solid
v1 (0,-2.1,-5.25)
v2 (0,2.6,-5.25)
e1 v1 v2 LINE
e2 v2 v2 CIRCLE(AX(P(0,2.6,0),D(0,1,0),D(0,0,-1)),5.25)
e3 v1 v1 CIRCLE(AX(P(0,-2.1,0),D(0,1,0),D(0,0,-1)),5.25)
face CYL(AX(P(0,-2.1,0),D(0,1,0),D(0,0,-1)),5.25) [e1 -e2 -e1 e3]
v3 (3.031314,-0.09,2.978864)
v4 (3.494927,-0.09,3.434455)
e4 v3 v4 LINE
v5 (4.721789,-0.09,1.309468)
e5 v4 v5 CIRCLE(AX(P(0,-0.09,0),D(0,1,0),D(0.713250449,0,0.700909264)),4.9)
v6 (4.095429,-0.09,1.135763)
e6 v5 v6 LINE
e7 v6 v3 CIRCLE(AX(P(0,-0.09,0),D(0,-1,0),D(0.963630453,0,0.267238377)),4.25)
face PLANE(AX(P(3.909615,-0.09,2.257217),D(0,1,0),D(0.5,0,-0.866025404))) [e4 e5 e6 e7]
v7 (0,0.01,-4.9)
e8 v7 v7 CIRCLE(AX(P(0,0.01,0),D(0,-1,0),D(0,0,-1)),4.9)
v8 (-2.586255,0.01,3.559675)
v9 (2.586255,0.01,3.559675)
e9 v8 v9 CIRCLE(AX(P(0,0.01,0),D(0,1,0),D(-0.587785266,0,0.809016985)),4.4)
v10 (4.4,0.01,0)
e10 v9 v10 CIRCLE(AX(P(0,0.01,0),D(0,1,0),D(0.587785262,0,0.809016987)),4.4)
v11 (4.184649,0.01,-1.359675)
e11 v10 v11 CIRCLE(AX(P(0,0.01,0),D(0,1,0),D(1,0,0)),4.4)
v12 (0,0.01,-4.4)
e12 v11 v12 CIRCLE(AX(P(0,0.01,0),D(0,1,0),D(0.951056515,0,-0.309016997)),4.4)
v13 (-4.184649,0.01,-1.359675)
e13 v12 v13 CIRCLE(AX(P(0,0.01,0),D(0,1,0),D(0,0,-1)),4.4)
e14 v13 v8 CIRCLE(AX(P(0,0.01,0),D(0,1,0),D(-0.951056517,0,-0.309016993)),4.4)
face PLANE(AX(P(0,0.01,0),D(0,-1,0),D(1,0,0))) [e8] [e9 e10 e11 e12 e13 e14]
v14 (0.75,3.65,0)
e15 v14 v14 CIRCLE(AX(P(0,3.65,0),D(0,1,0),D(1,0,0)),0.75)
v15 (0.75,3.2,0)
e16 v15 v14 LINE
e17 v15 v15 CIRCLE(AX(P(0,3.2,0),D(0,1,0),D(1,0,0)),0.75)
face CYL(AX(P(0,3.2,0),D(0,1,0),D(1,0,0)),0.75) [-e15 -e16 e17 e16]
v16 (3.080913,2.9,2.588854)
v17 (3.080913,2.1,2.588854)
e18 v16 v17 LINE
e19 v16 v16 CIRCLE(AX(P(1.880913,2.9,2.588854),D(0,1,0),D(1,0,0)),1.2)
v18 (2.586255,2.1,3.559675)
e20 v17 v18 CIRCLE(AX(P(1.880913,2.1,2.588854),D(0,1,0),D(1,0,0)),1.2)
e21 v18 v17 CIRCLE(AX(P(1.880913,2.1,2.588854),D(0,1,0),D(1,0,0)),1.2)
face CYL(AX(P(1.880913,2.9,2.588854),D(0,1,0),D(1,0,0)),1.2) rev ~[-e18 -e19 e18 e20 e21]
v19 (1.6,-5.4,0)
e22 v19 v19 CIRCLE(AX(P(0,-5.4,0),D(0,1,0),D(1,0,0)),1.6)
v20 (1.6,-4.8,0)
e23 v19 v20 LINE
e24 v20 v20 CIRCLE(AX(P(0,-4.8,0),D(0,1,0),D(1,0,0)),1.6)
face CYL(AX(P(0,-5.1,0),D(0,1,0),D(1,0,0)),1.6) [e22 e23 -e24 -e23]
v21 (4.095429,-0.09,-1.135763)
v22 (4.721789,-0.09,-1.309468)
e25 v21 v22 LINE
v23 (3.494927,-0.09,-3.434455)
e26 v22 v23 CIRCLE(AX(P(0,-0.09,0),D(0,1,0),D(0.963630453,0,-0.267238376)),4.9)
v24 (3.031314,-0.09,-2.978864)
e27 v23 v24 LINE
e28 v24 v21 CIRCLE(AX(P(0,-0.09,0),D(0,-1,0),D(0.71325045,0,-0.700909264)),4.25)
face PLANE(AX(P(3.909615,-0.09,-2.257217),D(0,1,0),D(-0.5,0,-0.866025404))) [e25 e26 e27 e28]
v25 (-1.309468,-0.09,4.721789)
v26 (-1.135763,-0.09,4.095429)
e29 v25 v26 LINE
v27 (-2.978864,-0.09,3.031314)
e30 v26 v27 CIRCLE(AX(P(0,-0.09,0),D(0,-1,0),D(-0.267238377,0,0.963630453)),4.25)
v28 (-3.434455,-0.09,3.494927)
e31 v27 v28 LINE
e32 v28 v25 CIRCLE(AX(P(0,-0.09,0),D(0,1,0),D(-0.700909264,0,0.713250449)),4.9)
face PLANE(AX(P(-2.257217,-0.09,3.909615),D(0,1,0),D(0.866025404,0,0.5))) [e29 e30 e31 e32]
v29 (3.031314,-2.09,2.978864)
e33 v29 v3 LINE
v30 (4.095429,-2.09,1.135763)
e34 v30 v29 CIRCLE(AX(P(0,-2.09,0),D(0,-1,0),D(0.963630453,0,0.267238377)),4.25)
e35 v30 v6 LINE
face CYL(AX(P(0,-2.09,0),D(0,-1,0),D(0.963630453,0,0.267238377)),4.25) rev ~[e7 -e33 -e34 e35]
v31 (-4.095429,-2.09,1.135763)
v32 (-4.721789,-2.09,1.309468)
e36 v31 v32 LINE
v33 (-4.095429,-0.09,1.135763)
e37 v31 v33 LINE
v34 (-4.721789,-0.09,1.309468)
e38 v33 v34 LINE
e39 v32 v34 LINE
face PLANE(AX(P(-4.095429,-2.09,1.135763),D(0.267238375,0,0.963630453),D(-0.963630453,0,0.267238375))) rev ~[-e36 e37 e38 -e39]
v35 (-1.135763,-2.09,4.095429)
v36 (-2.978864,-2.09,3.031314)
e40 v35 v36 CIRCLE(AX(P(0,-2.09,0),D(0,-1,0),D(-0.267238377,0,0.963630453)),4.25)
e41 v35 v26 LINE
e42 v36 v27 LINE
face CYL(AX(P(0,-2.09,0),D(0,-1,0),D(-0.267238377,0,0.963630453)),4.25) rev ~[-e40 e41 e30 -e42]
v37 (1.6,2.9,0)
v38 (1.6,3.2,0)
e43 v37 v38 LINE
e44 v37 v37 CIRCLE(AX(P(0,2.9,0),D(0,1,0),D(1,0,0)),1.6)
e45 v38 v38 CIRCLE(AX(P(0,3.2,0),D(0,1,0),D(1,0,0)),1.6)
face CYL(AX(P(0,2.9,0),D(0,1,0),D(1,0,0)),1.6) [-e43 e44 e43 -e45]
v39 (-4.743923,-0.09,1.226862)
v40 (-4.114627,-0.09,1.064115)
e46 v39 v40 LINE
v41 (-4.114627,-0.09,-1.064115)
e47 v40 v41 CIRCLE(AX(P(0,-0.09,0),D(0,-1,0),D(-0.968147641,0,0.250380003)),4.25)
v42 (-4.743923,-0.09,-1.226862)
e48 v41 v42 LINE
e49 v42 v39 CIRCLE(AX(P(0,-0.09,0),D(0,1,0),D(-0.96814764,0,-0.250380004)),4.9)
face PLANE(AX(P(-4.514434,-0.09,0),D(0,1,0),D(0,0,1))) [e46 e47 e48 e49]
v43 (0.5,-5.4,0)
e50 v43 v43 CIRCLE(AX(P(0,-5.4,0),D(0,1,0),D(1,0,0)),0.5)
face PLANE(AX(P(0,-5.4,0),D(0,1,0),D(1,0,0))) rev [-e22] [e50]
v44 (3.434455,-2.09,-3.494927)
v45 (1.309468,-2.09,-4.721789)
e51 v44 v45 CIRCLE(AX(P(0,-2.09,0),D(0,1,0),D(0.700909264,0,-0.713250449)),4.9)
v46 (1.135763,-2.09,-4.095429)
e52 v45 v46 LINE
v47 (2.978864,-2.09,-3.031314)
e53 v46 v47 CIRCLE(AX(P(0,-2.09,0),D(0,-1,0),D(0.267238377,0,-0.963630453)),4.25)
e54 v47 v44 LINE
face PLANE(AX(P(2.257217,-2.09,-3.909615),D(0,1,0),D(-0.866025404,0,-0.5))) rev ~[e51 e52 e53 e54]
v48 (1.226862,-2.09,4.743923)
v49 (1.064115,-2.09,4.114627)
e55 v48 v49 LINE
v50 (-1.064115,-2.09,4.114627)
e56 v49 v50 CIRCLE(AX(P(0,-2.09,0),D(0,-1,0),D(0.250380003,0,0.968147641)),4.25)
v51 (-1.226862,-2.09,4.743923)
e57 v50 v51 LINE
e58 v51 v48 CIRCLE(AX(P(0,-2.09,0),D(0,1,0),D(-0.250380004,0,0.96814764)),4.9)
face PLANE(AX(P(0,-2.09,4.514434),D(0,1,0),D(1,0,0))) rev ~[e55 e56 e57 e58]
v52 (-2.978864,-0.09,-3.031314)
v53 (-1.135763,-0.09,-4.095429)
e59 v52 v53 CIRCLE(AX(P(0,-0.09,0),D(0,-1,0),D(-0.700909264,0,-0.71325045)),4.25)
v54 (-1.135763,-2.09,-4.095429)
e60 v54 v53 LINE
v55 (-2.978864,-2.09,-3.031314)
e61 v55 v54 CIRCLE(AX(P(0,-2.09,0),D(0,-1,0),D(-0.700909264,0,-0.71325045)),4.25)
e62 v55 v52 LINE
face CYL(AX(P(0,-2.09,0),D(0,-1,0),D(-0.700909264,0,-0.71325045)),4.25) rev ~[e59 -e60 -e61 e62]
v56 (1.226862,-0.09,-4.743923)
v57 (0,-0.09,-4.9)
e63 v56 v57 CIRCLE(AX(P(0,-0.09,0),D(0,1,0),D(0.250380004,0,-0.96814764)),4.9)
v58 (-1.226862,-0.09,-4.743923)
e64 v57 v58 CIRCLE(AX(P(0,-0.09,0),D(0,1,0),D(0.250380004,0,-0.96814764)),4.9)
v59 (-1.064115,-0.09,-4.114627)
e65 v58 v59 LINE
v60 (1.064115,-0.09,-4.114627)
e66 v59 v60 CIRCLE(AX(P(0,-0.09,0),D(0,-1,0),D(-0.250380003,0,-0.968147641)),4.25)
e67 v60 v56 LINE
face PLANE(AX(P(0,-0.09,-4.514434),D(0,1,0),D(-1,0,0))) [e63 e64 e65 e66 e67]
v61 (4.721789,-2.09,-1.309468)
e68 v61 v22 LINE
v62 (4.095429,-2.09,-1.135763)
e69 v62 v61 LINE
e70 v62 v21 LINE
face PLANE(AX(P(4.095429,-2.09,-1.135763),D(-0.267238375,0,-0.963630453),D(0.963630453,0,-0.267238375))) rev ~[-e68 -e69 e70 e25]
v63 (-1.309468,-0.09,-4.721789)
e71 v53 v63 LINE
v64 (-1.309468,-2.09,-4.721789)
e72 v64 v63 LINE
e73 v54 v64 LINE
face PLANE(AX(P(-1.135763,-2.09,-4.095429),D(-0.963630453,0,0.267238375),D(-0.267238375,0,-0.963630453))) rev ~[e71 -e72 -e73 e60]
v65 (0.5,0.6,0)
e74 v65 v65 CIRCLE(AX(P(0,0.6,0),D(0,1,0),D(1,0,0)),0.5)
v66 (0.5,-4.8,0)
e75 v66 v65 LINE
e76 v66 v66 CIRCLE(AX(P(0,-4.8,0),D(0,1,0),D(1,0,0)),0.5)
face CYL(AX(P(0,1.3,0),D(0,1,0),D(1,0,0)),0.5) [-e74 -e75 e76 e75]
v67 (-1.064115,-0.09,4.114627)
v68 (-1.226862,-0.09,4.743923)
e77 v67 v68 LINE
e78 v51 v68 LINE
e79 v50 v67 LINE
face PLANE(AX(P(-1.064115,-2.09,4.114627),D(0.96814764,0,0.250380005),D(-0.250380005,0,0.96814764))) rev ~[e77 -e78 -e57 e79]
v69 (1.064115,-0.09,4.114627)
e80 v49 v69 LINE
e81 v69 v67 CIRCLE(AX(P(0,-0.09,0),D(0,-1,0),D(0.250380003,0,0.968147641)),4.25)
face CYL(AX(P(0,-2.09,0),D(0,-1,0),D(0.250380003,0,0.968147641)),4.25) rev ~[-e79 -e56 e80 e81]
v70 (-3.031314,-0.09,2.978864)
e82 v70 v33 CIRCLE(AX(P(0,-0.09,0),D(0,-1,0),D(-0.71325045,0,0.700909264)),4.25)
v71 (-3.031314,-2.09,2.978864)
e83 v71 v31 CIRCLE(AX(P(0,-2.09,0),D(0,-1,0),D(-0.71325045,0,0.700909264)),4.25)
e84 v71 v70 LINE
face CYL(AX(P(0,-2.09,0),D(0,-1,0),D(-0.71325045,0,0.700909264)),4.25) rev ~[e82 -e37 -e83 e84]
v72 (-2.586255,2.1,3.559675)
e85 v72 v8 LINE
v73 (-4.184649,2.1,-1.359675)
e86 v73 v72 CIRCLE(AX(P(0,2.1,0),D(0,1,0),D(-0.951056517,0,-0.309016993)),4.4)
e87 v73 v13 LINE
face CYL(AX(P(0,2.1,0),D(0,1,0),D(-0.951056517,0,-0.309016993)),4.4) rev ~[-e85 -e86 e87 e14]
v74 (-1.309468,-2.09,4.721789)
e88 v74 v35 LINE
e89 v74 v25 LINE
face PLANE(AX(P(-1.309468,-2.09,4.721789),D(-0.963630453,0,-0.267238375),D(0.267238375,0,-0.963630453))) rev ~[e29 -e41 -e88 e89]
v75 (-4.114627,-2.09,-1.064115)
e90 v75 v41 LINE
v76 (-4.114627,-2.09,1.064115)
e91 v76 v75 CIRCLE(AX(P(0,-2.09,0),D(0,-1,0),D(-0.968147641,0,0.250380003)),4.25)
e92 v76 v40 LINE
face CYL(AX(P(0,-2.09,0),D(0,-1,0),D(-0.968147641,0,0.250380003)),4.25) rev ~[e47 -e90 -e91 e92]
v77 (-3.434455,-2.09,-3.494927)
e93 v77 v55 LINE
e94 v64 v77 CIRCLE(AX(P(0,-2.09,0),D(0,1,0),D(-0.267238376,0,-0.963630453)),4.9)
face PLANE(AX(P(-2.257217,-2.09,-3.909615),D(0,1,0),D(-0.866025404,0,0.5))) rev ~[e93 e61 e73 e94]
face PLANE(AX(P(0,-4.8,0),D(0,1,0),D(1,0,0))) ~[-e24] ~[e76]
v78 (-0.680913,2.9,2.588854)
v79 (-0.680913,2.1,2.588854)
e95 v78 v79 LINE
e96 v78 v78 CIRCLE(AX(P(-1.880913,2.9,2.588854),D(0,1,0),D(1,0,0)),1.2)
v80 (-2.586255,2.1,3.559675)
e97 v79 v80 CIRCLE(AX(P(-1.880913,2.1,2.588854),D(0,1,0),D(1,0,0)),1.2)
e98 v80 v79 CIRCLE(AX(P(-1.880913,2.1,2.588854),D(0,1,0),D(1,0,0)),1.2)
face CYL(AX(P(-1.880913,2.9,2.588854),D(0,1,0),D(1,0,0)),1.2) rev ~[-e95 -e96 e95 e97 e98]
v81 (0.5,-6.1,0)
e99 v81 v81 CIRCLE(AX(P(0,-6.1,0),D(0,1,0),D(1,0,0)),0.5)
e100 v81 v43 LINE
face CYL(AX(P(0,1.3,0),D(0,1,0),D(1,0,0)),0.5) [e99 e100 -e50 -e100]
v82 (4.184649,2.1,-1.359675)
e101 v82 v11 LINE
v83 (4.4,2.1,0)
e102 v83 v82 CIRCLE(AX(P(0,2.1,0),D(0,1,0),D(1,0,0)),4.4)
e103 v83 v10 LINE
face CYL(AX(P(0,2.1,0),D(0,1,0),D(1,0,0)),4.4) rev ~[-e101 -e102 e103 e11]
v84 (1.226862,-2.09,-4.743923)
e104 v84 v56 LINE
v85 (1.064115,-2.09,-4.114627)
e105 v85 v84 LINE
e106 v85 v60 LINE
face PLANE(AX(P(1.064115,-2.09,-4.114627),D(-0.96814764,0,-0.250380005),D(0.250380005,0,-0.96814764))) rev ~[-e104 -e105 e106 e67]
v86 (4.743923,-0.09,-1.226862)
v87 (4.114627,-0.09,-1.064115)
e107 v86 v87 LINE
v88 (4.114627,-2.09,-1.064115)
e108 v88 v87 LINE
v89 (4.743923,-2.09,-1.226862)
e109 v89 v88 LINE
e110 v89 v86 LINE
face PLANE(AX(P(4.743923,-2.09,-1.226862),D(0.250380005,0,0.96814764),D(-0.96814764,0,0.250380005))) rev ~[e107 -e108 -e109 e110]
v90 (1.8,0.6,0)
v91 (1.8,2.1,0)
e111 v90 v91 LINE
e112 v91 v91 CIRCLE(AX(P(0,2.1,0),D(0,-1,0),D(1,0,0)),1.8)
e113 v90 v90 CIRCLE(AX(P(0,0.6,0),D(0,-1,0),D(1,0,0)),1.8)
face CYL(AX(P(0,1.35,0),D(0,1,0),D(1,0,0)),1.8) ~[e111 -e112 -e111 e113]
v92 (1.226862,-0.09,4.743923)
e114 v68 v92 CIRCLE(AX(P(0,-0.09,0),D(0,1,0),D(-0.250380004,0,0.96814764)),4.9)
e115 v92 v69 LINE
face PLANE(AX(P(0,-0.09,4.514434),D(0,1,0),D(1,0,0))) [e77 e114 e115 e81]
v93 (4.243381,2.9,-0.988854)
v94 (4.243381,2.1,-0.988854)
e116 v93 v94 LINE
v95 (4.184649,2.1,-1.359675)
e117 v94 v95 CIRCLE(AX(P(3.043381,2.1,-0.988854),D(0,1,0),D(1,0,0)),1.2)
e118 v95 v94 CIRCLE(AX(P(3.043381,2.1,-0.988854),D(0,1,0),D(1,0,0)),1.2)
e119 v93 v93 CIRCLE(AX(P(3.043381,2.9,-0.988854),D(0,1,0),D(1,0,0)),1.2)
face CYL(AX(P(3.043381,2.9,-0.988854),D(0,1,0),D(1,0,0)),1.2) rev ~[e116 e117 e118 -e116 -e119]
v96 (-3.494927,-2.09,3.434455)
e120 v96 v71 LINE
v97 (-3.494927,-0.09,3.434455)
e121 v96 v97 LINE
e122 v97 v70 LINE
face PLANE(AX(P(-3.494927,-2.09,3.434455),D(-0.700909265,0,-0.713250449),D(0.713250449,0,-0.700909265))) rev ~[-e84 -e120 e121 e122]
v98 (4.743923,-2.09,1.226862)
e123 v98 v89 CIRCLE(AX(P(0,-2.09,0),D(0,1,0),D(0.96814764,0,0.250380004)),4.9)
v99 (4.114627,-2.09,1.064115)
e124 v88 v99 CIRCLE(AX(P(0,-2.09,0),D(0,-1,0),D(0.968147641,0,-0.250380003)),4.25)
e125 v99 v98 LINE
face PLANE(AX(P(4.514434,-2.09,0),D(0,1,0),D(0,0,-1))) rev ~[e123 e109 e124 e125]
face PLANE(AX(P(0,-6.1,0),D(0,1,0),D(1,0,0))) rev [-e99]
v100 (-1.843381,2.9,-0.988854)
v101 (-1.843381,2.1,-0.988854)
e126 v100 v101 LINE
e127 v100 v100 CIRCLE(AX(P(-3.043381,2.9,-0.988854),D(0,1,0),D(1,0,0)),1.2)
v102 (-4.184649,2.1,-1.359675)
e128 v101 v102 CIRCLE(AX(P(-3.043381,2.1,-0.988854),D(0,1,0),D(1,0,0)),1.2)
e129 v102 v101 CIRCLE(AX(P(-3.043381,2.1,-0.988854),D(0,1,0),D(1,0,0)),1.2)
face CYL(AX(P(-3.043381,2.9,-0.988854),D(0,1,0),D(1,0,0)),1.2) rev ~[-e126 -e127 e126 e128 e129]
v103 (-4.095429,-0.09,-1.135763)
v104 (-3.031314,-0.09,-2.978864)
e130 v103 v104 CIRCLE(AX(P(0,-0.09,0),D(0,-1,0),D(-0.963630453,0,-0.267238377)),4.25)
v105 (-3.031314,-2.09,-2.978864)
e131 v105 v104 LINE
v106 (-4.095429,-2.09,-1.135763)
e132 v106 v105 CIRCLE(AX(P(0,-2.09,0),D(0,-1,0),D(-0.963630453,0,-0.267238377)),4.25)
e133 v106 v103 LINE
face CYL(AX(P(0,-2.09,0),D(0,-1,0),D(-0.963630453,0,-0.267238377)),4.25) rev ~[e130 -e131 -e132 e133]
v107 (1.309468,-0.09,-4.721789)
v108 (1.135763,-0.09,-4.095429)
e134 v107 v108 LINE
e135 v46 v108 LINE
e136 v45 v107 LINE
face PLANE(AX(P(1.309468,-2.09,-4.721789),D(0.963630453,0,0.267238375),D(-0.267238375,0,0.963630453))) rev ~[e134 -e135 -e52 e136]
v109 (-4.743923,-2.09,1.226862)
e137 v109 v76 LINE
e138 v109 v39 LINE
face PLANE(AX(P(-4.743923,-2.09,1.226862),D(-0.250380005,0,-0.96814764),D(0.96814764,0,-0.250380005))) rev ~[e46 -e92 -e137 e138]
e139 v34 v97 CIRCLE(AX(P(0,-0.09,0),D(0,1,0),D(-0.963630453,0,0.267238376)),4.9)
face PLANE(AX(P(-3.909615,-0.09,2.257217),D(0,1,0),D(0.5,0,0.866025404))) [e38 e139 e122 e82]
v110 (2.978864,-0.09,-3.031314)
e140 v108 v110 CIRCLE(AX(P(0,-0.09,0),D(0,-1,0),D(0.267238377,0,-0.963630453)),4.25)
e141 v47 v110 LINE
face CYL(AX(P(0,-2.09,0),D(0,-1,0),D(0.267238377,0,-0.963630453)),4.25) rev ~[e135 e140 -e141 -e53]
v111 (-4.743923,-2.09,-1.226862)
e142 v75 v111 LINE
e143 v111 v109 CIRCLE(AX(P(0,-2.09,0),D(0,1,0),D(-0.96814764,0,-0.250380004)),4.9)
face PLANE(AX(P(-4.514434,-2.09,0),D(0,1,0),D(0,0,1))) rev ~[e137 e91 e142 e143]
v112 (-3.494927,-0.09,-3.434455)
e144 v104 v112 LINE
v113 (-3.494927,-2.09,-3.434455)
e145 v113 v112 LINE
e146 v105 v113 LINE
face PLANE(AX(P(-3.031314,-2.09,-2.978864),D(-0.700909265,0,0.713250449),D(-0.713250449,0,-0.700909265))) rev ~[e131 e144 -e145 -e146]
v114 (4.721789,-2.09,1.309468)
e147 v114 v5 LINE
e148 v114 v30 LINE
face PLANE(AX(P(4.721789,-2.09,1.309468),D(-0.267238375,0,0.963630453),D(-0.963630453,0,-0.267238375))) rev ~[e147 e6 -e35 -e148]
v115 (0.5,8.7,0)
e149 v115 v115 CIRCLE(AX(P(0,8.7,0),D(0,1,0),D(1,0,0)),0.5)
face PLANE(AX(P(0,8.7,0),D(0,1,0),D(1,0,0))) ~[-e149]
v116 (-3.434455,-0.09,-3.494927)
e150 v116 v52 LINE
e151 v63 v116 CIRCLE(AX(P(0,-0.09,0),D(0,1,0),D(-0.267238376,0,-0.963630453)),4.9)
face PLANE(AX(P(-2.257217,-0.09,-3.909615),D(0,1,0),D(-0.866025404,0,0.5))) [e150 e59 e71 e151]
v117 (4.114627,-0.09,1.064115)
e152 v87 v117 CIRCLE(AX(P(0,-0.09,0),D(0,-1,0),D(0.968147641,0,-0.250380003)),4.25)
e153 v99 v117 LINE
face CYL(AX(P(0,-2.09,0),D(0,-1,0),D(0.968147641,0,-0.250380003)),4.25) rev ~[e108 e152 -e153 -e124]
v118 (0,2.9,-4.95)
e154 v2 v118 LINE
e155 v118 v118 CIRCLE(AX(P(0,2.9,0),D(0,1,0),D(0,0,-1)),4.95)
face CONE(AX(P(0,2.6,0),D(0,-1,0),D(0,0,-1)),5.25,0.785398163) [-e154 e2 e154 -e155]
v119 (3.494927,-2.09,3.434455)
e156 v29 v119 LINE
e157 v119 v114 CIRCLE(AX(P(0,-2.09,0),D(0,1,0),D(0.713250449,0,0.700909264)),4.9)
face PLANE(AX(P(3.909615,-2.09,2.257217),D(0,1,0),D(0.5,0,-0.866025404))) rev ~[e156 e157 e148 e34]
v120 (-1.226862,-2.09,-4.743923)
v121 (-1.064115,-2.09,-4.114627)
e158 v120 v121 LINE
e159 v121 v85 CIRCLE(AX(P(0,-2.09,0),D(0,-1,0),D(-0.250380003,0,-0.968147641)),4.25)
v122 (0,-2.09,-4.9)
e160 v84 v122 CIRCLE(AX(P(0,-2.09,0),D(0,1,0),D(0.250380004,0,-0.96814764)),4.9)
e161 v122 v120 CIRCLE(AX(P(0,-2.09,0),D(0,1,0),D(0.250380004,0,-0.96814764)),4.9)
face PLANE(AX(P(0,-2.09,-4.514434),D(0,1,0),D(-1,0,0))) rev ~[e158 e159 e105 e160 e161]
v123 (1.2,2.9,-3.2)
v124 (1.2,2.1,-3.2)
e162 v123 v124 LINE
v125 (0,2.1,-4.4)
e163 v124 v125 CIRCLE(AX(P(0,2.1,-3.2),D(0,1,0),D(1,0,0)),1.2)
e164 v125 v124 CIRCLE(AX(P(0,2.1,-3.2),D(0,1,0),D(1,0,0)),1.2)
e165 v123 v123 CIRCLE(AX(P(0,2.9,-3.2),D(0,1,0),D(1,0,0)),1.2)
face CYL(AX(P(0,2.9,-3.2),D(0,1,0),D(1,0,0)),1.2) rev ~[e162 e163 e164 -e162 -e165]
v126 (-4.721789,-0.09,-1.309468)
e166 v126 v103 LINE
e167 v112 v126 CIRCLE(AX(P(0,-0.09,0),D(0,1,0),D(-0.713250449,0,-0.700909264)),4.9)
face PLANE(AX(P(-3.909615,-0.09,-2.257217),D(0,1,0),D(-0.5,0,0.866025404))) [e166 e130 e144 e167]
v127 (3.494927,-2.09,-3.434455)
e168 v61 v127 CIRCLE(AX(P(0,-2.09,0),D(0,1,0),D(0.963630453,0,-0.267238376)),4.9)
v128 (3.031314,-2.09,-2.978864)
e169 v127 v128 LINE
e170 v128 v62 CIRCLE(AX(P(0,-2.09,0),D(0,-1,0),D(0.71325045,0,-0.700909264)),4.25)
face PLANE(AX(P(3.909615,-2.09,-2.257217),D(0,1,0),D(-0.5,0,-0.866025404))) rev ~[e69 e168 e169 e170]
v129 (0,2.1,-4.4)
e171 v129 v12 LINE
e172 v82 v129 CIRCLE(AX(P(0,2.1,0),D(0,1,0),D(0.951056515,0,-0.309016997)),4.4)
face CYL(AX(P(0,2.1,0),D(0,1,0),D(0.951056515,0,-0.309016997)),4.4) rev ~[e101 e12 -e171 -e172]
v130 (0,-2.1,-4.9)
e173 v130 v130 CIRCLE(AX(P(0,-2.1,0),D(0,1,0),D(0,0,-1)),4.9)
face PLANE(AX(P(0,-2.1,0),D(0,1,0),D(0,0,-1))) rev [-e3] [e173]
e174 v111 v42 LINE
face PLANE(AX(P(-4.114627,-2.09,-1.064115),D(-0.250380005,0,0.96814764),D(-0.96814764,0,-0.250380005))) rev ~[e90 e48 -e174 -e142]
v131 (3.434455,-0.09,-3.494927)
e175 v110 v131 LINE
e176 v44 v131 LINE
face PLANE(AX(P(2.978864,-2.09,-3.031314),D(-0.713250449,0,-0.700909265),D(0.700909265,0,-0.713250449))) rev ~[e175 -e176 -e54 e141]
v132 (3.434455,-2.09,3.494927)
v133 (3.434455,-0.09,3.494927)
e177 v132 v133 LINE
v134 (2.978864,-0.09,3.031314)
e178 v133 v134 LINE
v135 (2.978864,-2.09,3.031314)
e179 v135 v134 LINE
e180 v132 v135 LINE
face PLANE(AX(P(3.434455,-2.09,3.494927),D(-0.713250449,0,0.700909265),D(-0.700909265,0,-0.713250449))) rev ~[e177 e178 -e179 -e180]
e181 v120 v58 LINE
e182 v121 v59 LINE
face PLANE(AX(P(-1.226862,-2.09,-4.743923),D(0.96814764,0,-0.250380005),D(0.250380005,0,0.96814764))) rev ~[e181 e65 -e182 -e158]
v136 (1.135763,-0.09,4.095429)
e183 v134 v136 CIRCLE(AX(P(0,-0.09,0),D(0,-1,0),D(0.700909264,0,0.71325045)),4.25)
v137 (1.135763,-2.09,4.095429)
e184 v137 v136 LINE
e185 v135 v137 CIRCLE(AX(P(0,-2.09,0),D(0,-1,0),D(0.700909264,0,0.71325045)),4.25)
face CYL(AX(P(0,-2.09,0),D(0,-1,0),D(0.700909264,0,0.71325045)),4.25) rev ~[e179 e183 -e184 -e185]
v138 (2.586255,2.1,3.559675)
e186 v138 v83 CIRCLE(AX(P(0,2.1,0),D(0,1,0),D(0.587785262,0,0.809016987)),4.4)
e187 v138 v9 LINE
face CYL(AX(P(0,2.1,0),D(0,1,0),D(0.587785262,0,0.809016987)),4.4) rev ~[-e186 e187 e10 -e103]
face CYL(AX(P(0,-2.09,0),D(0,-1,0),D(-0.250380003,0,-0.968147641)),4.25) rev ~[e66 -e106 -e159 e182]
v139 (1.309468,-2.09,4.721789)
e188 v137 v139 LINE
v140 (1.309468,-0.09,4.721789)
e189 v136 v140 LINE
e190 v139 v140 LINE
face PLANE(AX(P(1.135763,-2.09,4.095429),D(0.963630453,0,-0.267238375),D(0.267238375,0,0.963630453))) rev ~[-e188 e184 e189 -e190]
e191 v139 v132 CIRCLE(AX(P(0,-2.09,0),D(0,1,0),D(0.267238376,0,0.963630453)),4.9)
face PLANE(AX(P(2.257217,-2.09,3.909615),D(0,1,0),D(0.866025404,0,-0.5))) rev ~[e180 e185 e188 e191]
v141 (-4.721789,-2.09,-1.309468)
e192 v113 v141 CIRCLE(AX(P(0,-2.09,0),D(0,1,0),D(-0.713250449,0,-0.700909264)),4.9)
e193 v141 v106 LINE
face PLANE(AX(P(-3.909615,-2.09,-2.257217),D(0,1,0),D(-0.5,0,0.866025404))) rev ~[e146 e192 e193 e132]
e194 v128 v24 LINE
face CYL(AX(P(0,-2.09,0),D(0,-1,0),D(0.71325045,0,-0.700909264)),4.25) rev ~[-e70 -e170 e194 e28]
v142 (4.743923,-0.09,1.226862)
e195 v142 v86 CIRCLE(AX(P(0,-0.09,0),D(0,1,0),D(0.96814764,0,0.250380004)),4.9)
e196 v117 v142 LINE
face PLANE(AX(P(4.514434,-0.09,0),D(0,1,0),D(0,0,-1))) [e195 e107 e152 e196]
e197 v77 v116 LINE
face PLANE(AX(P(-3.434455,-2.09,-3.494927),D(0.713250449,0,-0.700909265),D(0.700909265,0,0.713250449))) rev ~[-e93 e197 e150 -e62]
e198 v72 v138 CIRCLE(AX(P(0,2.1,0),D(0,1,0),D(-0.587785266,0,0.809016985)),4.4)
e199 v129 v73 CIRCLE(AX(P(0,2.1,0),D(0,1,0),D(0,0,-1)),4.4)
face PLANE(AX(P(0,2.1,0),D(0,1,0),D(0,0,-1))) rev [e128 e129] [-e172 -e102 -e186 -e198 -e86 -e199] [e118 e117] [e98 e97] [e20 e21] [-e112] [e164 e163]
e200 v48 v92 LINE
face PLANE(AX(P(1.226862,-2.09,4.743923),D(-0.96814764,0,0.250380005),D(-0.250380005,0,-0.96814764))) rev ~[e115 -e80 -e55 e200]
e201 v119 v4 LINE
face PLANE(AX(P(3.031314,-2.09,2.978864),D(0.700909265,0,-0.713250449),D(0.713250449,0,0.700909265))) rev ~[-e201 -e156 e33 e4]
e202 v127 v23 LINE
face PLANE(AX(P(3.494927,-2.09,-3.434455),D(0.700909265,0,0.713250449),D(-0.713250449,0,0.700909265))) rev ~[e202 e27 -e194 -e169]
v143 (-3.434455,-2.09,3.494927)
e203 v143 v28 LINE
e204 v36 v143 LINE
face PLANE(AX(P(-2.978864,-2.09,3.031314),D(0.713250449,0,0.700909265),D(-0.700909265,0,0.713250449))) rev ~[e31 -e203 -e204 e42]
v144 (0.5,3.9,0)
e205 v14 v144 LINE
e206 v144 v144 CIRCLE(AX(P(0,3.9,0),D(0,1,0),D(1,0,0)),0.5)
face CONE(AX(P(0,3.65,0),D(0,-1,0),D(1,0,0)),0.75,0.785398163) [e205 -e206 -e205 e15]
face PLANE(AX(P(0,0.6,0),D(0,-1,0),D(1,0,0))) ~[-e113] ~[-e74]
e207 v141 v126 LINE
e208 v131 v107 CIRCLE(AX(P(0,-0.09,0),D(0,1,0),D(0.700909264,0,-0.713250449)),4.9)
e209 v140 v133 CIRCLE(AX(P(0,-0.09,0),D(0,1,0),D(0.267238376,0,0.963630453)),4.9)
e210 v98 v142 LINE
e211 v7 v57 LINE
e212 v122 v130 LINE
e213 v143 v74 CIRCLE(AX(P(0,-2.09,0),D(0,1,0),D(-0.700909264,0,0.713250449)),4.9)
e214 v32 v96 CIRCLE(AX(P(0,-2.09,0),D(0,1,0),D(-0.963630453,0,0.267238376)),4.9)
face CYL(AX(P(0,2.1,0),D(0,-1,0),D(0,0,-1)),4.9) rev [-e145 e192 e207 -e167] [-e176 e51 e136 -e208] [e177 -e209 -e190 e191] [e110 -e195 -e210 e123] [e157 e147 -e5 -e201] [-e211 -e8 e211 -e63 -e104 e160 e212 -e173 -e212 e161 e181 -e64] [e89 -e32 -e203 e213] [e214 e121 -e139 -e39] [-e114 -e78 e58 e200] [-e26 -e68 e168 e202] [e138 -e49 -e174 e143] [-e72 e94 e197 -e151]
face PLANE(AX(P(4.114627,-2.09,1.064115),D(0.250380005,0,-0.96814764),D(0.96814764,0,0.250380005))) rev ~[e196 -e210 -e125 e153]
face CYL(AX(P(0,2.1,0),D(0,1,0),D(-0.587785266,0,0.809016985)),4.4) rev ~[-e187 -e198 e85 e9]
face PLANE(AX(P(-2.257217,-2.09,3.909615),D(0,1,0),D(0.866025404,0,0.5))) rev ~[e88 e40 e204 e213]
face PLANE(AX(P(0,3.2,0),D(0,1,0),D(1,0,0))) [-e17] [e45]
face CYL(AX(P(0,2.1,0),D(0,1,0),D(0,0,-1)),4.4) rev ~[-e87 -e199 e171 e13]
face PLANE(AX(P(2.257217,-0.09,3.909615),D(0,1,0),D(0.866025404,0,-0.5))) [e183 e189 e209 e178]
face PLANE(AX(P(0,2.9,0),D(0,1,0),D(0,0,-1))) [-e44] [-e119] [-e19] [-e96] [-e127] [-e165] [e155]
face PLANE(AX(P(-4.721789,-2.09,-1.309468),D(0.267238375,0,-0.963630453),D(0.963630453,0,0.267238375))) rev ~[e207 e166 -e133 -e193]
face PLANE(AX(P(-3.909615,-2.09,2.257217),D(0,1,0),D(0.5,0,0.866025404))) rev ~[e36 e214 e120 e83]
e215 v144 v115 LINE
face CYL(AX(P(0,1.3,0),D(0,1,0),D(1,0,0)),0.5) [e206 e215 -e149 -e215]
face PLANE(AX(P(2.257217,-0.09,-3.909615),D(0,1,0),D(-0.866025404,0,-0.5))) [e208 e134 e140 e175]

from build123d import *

# Parameters (mm, degrees)
SKETCH3_R           = 1.2
CUT_EXTRUDE1_DEPTH  = 6
BOSS_EXTRUDE1_START = -0.01
BOSS_EXTRUDE1_DEPTH = 2
CIRPATTERN1_COUNT   = 12
CHAMFER1_SIZE       = 0.3
SKETCH6_W           = 0.5
SKETCH6_H           = 14.8
SKETCH7_W           = 1.6
SKETCH7_H           = 0.6
SKETCH8_W           = 1.8
SKETCH8_H           = 1.5
SKETCH9_R           = 4.9
BOSS_EXTRUDE2_DEPTH = 2.09


with BuildPart() as part:
    # Sketch2 → Revolve1 (revolve)
    with BuildSketch(Plane(origin=(0, 0, 0), x_dir=(0, 0, -1), z_dir=(1, 0, 0))):
        Polygon((0, 2.1), (4.9, 2.1), (4.9, -2.1), (5.25, -2.1), (5.25, 2.9), (0, 2.9), align=None)
    revolve(axis=Axis((0, -2.1, 0), (0, 1, 0)))

    # Sketch3 → Cut-Extrude1 (cut, through all)
    with BuildSketch(Plane(origin=(0, 2.9, 0), x_dir=(1, 0, 0), z_dir=(0, 1, 0))):
        with Locations((0, 3.2)):
            Circle(SKETCH3_R)
        with Locations((3.043380852, 0.988854382)):
            Circle(SKETCH3_R)
        with Locations((1.880912807, -2.588854382)):
            Circle(SKETCH3_R)
        with Locations((-1.880912807, -2.588854382)):
            Circle(SKETCH3_R)
        with Locations((-3.043380852, 0.988854382)):
            Circle(SKETCH3_R)
    extrude(amount=-CUT_EXTRUDE1_DEPTH, mode=Mode.SUBTRACT)

    # Sketch4 → Boss-Extrude1 (add)
    with BuildSketch(Plane.XZ.offset(2.1).offset(BOSS_EXTRUDE1_START)):
        with BuildLine():
            Line((1.064115017, -4.114627472), (1.22686202, -4.743923438))
            ThreePointArc((1.22686202, -4.743923438), (0, -4.9), (-1.22686202, -4.743923438))
            Line((-1.22686202, -4.743923438), (-1.064115017, -4.114627472))
            ThreePointArc((-1.064115017, -4.114627472), (0, -4.25), (1.064115017, -4.114627472))
        make_face()
    boss_extrude1 = extrude(amount=-BOSS_EXTRUDE1_DEPTH)

    # CirPattern1: Boss-Extrude1 ×12 about axis
    cirpattern1_axis = Axis((0, 0, 0), (0, 1, 0))
    for i in range(1, CIRPATTERN1_COUNT):
        add(boss_extrude1.rotate(cirpattern1_axis, i * 360 / CIRPATTERN1_COUNT))

    # Chamfer1
    chamfer1_edges = [part.edges().sort_by_distance(p)[0] for p in [
        (0, 2.9, 5.25),
    ]]
    chamfer(chamfer1_edges, length=CHAMFER1_SIZE)

    # Sketch6 → Revolve2 (revolve)
    with BuildSketch(Plane.XY):
        with Locations((0.25, 1.3)):
            Rectangle(SKETCH6_W, SKETCH6_H)
    revolve(axis=Axis((0, -6.1, 0), (0, 1, 0)))

    # Sketch7 → Revolve3 (revolve)
    with BuildSketch(Plane.XY):
        Polygon((0, 2.9), (1.6, 2.9), (1.6, 3.2), (0.75, 3.2), (0.75, 3.65), (0.5, 3.9), (0, 3.9), (0, 3.2), align=None)
        with Locations((0.8, -5.1)):
            Rectangle(SKETCH7_W, SKETCH7_H)
    revolve(axis=Axis((0, 3.2, 0), (0, 1, 0)))

    # Sketch8 → Revolve4 (revolve)
    with BuildSketch(Plane.XY):
        with Locations((0.9, 1.35)):
            Rectangle(SKETCH8_W, SKETCH8_H)
    revolve(axis=Axis((0, 2.1, 0), (0, -1, 0)))

    # Sketch9 → Boss-Extrude2 (add)
    with BuildSketch(Plane.XZ.offset(-2.1)):
        Circle(SKETCH9_R)
        with BuildLine():
            ThreePointArc((2.586255154, 3.559674743), (3.920428719, 1.997558174), (4.4, 0))
            ThreePointArc((4.4, 0), (4.345828698, -0.688311651), (4.184648669, -1.359674785))
            ThreePointArc((4.184648669, -1.359674785), (2.586255106, -3.559674778), (-1e-09, -4.4))
            ThreePointArc((-1e-09, -4.4), (-2.586255112, -3.559674774), (-4.184648673, -1.359674772))
            ThreePointArc((-4.184648673, -1.359674772), (-4.184648682, 1.359674743), (-2.586255168, 3.559674733))
            ThreePointArc((-2.586255168, 3.559674733), (-8e-09, 4.4), (2.586255154, 3.559674743))
        make_face(mode=Mode.SUBTRACT)
    extrude(amount=BOSS_EXTRUDE2_DEPTH)


solid = part.part
